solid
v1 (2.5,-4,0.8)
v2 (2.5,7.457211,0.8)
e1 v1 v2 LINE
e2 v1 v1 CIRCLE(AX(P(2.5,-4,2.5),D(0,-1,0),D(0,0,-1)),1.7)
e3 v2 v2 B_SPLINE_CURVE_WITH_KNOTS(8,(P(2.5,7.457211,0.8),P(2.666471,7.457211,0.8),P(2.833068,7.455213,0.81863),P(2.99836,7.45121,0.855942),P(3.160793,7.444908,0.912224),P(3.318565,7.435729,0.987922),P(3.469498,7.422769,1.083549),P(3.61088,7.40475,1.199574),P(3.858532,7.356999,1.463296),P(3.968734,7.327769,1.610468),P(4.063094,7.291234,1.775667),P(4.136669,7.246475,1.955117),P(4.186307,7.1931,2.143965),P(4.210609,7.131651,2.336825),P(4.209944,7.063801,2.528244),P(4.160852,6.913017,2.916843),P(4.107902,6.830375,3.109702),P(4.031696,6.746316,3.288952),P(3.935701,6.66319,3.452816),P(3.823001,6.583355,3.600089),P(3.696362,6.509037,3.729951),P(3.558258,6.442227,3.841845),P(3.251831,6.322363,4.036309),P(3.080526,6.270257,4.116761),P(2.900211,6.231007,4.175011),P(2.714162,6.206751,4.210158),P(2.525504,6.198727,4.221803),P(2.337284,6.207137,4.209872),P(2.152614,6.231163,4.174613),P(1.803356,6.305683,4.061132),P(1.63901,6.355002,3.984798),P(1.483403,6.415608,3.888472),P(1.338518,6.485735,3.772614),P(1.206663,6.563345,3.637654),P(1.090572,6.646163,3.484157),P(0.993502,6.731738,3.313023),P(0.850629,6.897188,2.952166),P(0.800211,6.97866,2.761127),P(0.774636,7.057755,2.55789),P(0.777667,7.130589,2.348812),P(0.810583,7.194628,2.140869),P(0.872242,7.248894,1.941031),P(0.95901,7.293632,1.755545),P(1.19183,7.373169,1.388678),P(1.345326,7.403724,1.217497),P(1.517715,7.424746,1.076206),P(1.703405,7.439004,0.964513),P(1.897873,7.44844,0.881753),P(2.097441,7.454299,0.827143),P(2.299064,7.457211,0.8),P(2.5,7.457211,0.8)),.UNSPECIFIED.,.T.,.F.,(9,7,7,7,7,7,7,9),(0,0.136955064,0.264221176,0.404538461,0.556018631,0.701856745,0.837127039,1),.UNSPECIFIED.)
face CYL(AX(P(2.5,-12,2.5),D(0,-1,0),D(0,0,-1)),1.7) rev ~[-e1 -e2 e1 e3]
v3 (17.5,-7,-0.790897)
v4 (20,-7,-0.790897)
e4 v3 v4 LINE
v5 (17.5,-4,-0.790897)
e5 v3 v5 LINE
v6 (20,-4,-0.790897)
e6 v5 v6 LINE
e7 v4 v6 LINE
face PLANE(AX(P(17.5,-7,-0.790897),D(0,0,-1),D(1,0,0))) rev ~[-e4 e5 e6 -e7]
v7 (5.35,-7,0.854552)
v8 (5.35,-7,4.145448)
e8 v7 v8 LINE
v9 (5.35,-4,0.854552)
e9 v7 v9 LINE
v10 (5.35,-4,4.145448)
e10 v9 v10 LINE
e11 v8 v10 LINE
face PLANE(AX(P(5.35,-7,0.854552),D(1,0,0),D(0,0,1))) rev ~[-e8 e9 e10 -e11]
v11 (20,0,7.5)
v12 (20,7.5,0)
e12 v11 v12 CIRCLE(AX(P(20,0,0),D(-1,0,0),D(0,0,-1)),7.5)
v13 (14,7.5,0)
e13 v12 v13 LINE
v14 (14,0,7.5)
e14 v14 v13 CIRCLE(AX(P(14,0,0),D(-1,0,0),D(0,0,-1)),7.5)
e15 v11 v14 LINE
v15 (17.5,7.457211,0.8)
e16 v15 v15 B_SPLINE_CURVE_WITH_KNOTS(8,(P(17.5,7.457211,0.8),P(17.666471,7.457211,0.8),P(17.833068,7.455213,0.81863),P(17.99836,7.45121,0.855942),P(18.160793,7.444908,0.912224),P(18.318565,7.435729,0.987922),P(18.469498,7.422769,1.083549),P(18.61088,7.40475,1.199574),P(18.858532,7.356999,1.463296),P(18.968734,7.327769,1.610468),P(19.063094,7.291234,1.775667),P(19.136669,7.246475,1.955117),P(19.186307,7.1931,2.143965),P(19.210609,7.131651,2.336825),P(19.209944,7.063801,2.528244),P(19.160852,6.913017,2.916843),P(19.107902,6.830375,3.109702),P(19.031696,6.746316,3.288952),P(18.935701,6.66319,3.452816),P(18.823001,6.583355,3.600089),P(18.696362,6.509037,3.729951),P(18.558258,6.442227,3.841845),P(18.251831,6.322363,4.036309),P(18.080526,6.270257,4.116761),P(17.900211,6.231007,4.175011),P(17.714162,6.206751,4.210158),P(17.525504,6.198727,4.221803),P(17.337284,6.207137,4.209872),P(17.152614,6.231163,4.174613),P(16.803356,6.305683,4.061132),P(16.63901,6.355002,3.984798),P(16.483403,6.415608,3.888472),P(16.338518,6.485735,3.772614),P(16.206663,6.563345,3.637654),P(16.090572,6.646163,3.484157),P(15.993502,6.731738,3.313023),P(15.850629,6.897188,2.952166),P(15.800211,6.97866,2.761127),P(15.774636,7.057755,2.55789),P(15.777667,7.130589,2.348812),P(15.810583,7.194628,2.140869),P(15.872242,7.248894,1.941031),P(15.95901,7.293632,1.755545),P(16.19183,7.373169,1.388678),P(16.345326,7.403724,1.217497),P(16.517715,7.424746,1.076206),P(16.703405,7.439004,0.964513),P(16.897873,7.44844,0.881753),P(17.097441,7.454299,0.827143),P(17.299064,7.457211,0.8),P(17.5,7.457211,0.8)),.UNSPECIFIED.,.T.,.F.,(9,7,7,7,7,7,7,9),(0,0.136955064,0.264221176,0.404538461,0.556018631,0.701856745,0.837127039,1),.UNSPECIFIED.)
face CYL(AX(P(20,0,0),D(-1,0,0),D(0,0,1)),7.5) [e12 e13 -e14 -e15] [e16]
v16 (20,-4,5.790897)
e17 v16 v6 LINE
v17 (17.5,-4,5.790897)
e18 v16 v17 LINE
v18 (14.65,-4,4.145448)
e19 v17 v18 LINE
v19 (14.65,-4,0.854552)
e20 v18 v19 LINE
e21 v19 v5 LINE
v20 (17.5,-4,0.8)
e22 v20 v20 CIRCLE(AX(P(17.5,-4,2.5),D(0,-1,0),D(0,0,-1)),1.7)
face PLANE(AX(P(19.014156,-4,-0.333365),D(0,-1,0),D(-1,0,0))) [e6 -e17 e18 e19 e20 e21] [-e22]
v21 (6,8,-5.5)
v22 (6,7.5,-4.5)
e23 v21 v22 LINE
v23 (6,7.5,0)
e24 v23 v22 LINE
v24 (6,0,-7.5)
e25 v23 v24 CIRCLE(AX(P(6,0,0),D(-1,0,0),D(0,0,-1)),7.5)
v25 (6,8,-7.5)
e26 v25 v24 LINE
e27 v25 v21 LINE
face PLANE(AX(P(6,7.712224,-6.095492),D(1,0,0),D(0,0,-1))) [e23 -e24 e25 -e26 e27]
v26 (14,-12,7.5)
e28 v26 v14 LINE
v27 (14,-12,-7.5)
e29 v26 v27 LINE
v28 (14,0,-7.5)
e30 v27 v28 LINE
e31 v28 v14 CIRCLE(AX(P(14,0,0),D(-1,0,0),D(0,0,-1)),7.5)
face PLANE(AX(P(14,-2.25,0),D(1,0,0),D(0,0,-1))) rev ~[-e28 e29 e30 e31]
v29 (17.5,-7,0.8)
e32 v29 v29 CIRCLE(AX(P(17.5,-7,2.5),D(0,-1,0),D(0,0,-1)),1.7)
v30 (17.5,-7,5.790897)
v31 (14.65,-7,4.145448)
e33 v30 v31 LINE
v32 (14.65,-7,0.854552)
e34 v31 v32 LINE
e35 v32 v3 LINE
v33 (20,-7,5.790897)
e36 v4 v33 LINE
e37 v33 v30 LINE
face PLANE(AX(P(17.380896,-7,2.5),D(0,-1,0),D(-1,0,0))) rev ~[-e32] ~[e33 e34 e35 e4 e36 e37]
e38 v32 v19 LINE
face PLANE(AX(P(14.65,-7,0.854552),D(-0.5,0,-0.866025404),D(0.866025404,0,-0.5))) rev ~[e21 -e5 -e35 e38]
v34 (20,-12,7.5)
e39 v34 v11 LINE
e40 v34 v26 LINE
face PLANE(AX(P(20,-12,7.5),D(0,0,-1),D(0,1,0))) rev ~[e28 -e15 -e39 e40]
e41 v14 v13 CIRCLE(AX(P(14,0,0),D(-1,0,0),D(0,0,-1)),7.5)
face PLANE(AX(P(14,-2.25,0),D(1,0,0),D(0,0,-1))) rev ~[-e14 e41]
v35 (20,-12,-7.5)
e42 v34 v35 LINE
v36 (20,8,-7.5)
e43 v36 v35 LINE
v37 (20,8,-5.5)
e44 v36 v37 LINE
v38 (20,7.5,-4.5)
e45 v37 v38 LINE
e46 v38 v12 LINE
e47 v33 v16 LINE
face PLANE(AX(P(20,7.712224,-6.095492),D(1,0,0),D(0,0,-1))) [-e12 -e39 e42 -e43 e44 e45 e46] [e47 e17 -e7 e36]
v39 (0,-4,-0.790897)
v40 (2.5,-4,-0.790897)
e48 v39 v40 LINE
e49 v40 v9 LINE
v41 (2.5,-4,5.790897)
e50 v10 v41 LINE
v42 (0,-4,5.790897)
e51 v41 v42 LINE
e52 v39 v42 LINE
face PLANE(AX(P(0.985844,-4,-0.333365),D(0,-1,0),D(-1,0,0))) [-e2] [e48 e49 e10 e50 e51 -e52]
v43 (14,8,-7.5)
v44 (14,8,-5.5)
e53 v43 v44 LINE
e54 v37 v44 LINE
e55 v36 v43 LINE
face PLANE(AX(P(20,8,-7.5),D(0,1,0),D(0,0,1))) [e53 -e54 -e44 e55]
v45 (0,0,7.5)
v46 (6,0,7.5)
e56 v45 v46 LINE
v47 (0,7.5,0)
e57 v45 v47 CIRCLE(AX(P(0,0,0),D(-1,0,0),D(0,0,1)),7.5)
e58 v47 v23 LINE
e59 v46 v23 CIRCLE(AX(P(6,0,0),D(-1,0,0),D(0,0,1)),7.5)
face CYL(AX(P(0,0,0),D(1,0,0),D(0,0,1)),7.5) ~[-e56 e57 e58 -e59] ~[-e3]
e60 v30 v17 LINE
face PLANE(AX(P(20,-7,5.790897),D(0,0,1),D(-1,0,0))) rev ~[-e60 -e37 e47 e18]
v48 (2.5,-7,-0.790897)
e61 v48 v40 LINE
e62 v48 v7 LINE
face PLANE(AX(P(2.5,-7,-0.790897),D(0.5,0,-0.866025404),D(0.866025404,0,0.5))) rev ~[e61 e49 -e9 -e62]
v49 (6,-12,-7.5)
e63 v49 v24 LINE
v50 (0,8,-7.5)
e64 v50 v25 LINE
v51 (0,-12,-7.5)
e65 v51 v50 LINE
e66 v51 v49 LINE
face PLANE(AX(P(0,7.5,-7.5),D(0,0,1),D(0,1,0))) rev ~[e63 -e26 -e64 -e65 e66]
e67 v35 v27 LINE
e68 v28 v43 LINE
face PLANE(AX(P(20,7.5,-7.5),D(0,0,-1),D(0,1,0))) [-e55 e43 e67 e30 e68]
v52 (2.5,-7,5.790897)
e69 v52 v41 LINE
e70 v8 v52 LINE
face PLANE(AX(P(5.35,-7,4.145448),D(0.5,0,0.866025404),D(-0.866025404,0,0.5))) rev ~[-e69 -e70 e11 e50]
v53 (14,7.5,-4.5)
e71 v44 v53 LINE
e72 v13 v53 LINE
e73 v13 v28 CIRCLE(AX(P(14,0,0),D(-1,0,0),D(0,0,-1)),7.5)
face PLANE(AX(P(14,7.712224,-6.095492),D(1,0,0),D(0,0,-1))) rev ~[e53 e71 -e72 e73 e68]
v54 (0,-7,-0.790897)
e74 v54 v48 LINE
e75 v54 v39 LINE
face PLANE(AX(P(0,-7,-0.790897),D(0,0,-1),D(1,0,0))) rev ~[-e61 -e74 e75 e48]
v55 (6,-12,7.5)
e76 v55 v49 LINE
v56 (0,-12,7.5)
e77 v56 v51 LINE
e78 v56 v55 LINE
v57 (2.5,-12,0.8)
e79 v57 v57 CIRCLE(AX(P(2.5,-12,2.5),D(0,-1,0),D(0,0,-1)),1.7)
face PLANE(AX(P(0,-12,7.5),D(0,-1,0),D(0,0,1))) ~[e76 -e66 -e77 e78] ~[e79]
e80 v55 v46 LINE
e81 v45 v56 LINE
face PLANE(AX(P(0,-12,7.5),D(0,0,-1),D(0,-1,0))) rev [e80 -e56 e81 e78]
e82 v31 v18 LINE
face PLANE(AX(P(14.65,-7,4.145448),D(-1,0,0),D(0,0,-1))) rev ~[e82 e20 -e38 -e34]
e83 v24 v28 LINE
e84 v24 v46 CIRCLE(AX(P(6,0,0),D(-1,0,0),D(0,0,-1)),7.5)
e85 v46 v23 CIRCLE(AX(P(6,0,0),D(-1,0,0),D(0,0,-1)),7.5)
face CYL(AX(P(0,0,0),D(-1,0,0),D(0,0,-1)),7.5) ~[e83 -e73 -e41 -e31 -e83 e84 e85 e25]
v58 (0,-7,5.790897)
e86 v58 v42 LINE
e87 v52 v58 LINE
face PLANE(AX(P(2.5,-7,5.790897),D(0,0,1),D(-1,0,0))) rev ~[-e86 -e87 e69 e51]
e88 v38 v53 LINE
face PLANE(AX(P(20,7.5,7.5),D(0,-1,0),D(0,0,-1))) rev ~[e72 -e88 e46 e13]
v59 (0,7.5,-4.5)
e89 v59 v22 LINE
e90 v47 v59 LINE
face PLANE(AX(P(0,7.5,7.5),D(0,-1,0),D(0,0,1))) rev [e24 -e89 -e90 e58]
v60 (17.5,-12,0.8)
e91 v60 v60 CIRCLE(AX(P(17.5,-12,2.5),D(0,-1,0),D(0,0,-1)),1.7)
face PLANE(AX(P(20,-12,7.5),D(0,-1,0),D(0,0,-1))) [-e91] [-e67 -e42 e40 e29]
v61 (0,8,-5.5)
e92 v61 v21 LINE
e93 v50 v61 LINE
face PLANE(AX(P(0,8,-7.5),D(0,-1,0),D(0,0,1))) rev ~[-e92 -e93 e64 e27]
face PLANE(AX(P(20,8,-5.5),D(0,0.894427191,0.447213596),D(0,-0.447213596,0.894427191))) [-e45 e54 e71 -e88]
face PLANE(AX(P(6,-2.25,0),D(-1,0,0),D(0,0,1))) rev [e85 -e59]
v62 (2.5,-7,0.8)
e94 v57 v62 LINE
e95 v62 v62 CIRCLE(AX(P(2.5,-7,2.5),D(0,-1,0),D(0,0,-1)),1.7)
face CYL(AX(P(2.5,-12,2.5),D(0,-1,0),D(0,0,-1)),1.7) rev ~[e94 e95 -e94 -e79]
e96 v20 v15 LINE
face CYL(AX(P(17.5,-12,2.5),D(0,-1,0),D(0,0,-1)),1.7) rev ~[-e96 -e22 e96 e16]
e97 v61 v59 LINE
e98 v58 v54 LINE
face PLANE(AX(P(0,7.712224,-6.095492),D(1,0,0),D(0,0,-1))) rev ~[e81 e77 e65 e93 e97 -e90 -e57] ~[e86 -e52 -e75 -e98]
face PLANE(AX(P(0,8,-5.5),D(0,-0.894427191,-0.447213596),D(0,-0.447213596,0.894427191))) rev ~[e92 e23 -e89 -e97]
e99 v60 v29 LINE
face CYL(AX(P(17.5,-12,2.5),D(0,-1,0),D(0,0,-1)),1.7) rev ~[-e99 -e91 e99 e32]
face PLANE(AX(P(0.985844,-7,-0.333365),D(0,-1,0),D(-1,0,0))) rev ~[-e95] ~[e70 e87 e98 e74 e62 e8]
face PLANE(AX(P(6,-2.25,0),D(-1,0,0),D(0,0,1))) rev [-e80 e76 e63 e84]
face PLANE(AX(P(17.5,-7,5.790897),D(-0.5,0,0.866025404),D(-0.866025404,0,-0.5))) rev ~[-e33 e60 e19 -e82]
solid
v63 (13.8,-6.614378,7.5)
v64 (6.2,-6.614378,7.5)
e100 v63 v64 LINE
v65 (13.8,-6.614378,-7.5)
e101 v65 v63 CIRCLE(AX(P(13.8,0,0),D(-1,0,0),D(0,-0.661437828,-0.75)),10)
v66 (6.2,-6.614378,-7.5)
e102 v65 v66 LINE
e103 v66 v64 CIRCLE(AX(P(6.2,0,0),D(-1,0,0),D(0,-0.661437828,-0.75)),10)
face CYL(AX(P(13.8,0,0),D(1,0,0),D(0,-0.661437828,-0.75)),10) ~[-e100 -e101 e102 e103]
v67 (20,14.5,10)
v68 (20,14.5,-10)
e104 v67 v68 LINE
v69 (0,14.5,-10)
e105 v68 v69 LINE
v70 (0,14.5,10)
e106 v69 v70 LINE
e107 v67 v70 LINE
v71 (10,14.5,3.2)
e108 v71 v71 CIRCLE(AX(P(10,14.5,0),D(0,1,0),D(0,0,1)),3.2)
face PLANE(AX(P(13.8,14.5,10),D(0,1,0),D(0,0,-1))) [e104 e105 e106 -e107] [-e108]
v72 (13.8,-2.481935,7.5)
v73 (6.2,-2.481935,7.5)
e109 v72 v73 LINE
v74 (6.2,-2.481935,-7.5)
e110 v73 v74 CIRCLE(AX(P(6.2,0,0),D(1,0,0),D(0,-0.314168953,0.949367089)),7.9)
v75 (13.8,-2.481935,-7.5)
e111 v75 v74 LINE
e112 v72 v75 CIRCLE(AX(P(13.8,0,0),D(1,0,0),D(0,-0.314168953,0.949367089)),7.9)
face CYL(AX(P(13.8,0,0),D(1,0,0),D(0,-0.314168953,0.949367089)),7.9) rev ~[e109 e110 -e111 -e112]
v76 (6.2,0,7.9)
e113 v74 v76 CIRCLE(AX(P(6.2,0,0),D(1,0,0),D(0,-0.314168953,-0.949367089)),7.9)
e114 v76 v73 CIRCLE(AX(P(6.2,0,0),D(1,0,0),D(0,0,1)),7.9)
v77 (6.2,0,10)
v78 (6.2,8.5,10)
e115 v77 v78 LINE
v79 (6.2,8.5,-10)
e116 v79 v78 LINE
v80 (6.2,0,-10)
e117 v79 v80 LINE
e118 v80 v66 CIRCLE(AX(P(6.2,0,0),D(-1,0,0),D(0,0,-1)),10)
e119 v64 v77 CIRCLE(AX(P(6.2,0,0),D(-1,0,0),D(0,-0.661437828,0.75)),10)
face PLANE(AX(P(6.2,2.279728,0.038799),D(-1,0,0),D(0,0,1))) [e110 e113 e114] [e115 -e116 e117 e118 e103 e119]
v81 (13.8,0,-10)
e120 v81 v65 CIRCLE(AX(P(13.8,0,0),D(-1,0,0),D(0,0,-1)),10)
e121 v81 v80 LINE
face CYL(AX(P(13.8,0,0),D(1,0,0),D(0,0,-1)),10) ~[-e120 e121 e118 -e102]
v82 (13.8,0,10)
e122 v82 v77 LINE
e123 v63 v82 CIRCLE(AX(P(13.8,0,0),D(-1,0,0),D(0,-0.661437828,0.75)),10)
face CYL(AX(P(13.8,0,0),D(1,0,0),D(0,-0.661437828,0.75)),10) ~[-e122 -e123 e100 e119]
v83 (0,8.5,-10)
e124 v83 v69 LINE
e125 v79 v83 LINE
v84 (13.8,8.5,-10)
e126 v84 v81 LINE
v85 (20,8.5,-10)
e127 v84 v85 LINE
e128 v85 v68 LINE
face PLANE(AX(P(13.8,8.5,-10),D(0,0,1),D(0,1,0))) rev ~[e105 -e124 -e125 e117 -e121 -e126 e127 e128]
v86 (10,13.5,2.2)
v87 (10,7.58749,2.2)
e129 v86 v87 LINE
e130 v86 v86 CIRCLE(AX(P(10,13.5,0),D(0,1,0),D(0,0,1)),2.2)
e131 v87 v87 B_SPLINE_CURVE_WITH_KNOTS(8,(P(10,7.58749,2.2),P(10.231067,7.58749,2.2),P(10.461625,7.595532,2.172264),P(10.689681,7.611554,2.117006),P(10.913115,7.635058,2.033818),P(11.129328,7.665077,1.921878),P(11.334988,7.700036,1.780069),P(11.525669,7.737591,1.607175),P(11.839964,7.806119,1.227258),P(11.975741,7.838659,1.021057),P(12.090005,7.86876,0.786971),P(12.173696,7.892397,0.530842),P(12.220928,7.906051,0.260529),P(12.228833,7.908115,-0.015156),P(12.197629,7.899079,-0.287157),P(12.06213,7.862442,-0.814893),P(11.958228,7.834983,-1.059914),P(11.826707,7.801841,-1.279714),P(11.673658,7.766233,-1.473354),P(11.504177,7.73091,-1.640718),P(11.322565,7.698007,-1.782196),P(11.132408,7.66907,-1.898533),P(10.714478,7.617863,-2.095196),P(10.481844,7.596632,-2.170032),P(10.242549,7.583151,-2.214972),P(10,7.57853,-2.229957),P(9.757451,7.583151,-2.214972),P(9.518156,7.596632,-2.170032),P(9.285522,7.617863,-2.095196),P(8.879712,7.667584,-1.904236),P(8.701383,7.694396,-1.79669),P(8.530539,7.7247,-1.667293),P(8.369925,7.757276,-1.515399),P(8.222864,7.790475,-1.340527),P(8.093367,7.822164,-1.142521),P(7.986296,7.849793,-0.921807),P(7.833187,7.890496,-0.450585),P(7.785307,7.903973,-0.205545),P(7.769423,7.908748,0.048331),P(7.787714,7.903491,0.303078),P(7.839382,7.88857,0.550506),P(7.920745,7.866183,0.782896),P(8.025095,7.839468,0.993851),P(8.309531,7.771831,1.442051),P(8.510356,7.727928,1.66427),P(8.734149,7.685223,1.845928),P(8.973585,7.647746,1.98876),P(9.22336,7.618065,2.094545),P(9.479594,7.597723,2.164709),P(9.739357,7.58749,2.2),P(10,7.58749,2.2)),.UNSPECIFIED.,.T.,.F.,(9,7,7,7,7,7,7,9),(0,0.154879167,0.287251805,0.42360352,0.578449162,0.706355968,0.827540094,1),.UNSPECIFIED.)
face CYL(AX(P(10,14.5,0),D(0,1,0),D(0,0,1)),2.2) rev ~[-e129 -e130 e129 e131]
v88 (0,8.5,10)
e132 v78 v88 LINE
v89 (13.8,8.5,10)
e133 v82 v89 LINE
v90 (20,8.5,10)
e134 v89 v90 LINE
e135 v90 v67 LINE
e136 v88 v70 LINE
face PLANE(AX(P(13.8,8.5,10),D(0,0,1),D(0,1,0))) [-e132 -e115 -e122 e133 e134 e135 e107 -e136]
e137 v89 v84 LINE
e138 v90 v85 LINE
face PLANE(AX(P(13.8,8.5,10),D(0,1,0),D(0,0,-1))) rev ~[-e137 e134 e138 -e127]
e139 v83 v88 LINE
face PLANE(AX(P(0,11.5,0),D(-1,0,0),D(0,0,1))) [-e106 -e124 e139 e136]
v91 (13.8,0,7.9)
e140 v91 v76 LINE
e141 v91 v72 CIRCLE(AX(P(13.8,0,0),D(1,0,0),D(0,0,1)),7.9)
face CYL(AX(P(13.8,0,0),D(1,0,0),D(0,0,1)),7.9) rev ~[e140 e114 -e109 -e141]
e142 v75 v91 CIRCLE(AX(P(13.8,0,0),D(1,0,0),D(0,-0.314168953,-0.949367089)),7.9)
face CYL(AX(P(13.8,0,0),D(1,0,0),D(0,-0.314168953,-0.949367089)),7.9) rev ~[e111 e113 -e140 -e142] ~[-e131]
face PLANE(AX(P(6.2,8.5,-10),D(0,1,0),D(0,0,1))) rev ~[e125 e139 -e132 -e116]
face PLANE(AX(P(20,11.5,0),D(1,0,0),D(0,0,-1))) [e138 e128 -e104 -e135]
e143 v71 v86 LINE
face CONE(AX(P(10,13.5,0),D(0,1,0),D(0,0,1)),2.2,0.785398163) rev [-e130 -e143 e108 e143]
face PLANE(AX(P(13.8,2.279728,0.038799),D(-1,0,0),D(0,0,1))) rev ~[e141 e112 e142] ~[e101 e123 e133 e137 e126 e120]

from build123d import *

# Parameters (mm, degrees)
SKETCH1_R           = 7.5
BOSS_EXTRUDE1_DEPTH = 20
SKETCH2_W           = 15
SKETCH2_H           = 19.5
BOSS_EXTRUDE2_DEPTH = 6
FILLET1_R           = 7.5
FILLET2_R           = 7.5
BOSS_EXTRUDE3_START = 0.2
BOSS_EXTRUDE3_DEPTH = 7.6
SKETCH6_W           = 20
SKETCH6_H           = 6
BOSS_EXTRUDE4_DEPTH = 6.2
SKETCH7_W           = 20
SKETCH7_H           = 6
BOSS_EXTRUDE5_DEPTH = 6.2
SKETCH10_R          = 2.2
CUT_EXTRUDE6_DEPTH  = 7
CHAMFER2_SIZE       = 1
SKETCH11_R          = 1.7
CUT_EXTRUDE7_DEPTH  = 20
CUT_EXTRUDE8_START  = -5
SKETCH12_R          = 1.7
CUT_EXTRUDE8_DEPTH  = 3
BOSS_EXTRUDE6_DEPTH = 6
BOSS_EXTRUDE7_DEPTH = 6


with BuildPart() as part:
    # Sketch1 → Boss-Extrude1 (new body)
    with BuildSketch(Plane(origin=(0, 0, 0), x_dir=(0, 0, -1), z_dir=(1, 0, 0))):
        Circle(SKETCH1_R)
    extrude(amount=BOSS_EXTRUDE1_DEPTH)

    # Sketch2 → Boss-Extrude2 (add)
    with BuildSketch(Plane(origin=(20, 0, 0), x_dir=(0, 0, -1), z_dir=(1, 0, 0))):
        with Locations((0, -2.25)):
            Rectangle(SKETCH2_W, SKETCH2_H)
    boss_extrude2 = extrude(amount=-BOSS_EXTRUDE2_DEPTH)

    # Fillet1
    fillet1_edges = [part.edges().sort_by_distance(p)[0] for p in [
        (17, 7.5, 7.5),
    ]]
    fillet(fillet1_edges, radius=FILLET1_R)

    # Mirror2: Boss-Extrude2 across plane
    add(boss_extrude2.mirror(Plane.ZY.offset(-10)))

    # Fillet2
    fillet2_edges = [part.edges().sort_by_distance(p)[0] for p in [
        (3, 7.5, 7.5),
    ]]
    fillet(fillet2_edges, radius=FILLET2_R)

    # Sketch11 → Cut-Extrude7 (cut)
    with BuildSketch(Plane(origin=(0, -12, 0), x_dir=(-1, 0, 0), z_dir=(0, -1, 0))):
        with Locations(Location((-2.5, -2.5, 0), (0, 0, 90))):
            Circle(SKETCH11_R)
        with Locations(Location((-17.5, -2.5, 0), (0, 0, 90))):
            Circle(SKETCH11_R)
    extrude(amount=-CUT_EXTRUDE7_DEPTH, mode=Mode.SUBTRACT)

    # Sketch12 → Cut-Extrude8 (cut)
    # profile 1 of 7: a face of its own
    with BuildSketch(Plane(origin=(0, -12, 0), x_dir=(-1, 0, 0), z_dir=(0, -1, 0)).offset(CUT_EXTRUDE8_START)):
        Polygon((0, -0.652479139), (-2.5, 0.790896534), (-5.35, -0.854551733), (-5.35, -4.145448267), (-2.5, -5.790896534), (0, -4.347520861), align=None)
        with Locations(Location((-2.5, -2.5, 0), (0, 0, 90))):
            Circle(SKETCH12_R, mode=Mode.SUBTRACT)
    # profile 2 of 7: a face of its own
    with BuildSketch(Plane(origin=(0, -12, 0), x_dir=(-1, 0, 0), z_dir=(0, -1, 0)).offset(CUT_EXTRUDE8_START)):
        with Locations(Location((-2.5, -2.5, 0), (0, 0, 90))):
            Circle(SKETCH12_R)
    # profile 3 of 7: a face of its own
    with BuildSketch(Plane(origin=(0, -12, 0), x_dir=(-1, 0, 0), z_dir=(0, -1, 0)).offset(CUT_EXTRUDE8_START)):
        Polygon((0, -5.790896534), (0, -4.347520861), (-2.5, -5.790896534), align=None)
    # profile 4 of 7: a face of its own
    with BuildSketch(Plane(origin=(0, -12, 0), x_dir=(-1, 0, 0), z_dir=(0, -1, 0)).offset(CUT_EXTRUDE8_START)):
        Polygon((0, -0.652479139), (0, 0.790896534), (-2.5, 0.790896534), align=None)
    # profile 5 of 7: a face of its own
    with BuildSketch(Plane(origin=(0, -12, 0), x_dir=(-1, 0, 0), z_dir=(0, -1, 0)).offset(CUT_EXTRUDE8_START)):
        Polygon((-20, -4.347520861), (-17.5, -5.790896534), (-14.65, -4.145448267), (-14.65, -0.854551733), (-17.5, 0.790896534), (-20, -0.652479139), align=None)
    # profile 6 of 7: a face of its own
    with BuildSketch(Plane(origin=(0, -12, 0), x_dir=(-1, 0, 0), z_dir=(0, -1, 0)).offset(CUT_EXTRUDE8_START)):
        Polygon((-20, -5.790896534), (-17.5, -5.790896534), (-20, -4.347520861), align=None)
    # profile 7 of 7: a face of its own
    with BuildSketch(Plane(origin=(0, -12, 0), x_dir=(-1, 0, 0), z_dir=(0, -1, 0)).offset(CUT_EXTRUDE8_START)):
        Polygon((-20, 0.790896534), (-20, -0.652479139), (-17.5, 0.790896534), align=None)
    extrude(amount=-CUT_EXTRUDE8_DEPTH, mode=Mode.SUBTRACT)

    # Sketch13 → Boss-Extrude6 (add)
    with BuildSketch(Plane(origin=(20, 0, 0), x_dir=(0, 0, -1), z_dir=(1, 0, 0))):
        Polygon((7.5, 7.5), (7.5, 8), (5.5, 8), (4.5, 7.5), align=None)
    extrude(amount=-BOSS_EXTRUDE6_DEPTH)

    # Sketch15 → Boss-Extrude7 (add)
    with BuildSketch(Plane.ZY):
        Polygon((-7.5, 7.5), (-7.5, 8), (-5.5, 8), (-4.5, 7.5), align=None)
    extrude(amount=-BOSS_EXTRUDE7_DEPTH)


with BuildPart() as body_2:
    # Sketch5 → Boss-Extrude3 (new body)
    with BuildSketch(Plane.ZY.offset(-14).offset(BOSS_EXTRUDE3_START)):
        with BuildLine():
            ThreePointArc((7.5, -6.614378278), (9.354143467, -3.535533906), (10, 0))
            ThreePointArc((10, 0), (0, 10), (-10, 0))
            ThreePointArc((-10, 0), (-9.354143467, -3.535533906), (-7.5, -6.614378278))
            Line((-7.5, -6.614378278), (-7.5, -2.481934729))
            ThreePointArc((-7.5, -2.481934729), (-1.256980509, 7.799358948), (7.9, 0))
            ThreePointArc((7.9, 0), (7.799358948, -1.256980509), (7.5, -2.481934729))
            Line((7.5, -2.481934729), (7.5, -6.614378278))
        make_face()
        with BuildLine():
            ThreePointArc((-7.5, -6.614378278), (0, -10), (7.5, -6.614378278))
            Line((7.5, -6.614378278), (7.5, -2.481934729))
            ThreePointArc((7.5, -2.481934729), (0, -7.9), (-7.5, -2.481934729))
            Line((-7.5, -2.481934729), (-7.5, -6.614378278))
        make_face()
        with BuildLine():
            ThreePointArc((-10, 0), (0, 10), (10, 0))
            Line((10, 0), (10, 14.5))
            Line((10, 14.5), (-10, 14.5))
            Line((-10, 14.5), (-10, 0))
        make_face()
    extrude(amount=BOSS_EXTRUDE3_DEPTH)

    # Sketch6 → Boss-Extrude4 (add)
    with BuildSketch(Plane.ZY.offset(-6.2)):
        with Locations((0, 11.5)):
            Rectangle(SKETCH6_W, SKETCH6_H)
    extrude(amount=BOSS_EXTRUDE4_DEPTH)

    # Sketch7 → Boss-Extrude5 (add)
    with BuildSketch(Plane(origin=(13.8, 0, 0), x_dir=(0, 0, -1), z_dir=(1, 0, 0))):
        with Locations((0, 11.5)):
            Rectangle(SKETCH7_W, SKETCH7_H)
    extrude(amount=BOSS_EXTRUDE5_DEPTH)

    # Sketch10 → Cut-Extrude6 (cut)
    with BuildSketch(Plane(origin=(0, 14.5, 0), x_dir=(1, 0, 0), z_dir=(0, 1, 0))):
        with Locations(Location((10, 0, 0), (0, 0, 270))):
            Circle(SKETCH10_R)
    extrude(amount=-CUT_EXTRUDE6_DEPTH, mode=Mode.SUBTRACT)

    # Chamfer2
    chamfer2_edges = [body_2.edges().sort_by_distance(p)[0] for p in [
        (10, 14.5, -2.2),
    ]]
    chamfer(chamfer2_edges, length=CHAMFER2_SIZE)


solid = Compound([part.part, body_2.part])
